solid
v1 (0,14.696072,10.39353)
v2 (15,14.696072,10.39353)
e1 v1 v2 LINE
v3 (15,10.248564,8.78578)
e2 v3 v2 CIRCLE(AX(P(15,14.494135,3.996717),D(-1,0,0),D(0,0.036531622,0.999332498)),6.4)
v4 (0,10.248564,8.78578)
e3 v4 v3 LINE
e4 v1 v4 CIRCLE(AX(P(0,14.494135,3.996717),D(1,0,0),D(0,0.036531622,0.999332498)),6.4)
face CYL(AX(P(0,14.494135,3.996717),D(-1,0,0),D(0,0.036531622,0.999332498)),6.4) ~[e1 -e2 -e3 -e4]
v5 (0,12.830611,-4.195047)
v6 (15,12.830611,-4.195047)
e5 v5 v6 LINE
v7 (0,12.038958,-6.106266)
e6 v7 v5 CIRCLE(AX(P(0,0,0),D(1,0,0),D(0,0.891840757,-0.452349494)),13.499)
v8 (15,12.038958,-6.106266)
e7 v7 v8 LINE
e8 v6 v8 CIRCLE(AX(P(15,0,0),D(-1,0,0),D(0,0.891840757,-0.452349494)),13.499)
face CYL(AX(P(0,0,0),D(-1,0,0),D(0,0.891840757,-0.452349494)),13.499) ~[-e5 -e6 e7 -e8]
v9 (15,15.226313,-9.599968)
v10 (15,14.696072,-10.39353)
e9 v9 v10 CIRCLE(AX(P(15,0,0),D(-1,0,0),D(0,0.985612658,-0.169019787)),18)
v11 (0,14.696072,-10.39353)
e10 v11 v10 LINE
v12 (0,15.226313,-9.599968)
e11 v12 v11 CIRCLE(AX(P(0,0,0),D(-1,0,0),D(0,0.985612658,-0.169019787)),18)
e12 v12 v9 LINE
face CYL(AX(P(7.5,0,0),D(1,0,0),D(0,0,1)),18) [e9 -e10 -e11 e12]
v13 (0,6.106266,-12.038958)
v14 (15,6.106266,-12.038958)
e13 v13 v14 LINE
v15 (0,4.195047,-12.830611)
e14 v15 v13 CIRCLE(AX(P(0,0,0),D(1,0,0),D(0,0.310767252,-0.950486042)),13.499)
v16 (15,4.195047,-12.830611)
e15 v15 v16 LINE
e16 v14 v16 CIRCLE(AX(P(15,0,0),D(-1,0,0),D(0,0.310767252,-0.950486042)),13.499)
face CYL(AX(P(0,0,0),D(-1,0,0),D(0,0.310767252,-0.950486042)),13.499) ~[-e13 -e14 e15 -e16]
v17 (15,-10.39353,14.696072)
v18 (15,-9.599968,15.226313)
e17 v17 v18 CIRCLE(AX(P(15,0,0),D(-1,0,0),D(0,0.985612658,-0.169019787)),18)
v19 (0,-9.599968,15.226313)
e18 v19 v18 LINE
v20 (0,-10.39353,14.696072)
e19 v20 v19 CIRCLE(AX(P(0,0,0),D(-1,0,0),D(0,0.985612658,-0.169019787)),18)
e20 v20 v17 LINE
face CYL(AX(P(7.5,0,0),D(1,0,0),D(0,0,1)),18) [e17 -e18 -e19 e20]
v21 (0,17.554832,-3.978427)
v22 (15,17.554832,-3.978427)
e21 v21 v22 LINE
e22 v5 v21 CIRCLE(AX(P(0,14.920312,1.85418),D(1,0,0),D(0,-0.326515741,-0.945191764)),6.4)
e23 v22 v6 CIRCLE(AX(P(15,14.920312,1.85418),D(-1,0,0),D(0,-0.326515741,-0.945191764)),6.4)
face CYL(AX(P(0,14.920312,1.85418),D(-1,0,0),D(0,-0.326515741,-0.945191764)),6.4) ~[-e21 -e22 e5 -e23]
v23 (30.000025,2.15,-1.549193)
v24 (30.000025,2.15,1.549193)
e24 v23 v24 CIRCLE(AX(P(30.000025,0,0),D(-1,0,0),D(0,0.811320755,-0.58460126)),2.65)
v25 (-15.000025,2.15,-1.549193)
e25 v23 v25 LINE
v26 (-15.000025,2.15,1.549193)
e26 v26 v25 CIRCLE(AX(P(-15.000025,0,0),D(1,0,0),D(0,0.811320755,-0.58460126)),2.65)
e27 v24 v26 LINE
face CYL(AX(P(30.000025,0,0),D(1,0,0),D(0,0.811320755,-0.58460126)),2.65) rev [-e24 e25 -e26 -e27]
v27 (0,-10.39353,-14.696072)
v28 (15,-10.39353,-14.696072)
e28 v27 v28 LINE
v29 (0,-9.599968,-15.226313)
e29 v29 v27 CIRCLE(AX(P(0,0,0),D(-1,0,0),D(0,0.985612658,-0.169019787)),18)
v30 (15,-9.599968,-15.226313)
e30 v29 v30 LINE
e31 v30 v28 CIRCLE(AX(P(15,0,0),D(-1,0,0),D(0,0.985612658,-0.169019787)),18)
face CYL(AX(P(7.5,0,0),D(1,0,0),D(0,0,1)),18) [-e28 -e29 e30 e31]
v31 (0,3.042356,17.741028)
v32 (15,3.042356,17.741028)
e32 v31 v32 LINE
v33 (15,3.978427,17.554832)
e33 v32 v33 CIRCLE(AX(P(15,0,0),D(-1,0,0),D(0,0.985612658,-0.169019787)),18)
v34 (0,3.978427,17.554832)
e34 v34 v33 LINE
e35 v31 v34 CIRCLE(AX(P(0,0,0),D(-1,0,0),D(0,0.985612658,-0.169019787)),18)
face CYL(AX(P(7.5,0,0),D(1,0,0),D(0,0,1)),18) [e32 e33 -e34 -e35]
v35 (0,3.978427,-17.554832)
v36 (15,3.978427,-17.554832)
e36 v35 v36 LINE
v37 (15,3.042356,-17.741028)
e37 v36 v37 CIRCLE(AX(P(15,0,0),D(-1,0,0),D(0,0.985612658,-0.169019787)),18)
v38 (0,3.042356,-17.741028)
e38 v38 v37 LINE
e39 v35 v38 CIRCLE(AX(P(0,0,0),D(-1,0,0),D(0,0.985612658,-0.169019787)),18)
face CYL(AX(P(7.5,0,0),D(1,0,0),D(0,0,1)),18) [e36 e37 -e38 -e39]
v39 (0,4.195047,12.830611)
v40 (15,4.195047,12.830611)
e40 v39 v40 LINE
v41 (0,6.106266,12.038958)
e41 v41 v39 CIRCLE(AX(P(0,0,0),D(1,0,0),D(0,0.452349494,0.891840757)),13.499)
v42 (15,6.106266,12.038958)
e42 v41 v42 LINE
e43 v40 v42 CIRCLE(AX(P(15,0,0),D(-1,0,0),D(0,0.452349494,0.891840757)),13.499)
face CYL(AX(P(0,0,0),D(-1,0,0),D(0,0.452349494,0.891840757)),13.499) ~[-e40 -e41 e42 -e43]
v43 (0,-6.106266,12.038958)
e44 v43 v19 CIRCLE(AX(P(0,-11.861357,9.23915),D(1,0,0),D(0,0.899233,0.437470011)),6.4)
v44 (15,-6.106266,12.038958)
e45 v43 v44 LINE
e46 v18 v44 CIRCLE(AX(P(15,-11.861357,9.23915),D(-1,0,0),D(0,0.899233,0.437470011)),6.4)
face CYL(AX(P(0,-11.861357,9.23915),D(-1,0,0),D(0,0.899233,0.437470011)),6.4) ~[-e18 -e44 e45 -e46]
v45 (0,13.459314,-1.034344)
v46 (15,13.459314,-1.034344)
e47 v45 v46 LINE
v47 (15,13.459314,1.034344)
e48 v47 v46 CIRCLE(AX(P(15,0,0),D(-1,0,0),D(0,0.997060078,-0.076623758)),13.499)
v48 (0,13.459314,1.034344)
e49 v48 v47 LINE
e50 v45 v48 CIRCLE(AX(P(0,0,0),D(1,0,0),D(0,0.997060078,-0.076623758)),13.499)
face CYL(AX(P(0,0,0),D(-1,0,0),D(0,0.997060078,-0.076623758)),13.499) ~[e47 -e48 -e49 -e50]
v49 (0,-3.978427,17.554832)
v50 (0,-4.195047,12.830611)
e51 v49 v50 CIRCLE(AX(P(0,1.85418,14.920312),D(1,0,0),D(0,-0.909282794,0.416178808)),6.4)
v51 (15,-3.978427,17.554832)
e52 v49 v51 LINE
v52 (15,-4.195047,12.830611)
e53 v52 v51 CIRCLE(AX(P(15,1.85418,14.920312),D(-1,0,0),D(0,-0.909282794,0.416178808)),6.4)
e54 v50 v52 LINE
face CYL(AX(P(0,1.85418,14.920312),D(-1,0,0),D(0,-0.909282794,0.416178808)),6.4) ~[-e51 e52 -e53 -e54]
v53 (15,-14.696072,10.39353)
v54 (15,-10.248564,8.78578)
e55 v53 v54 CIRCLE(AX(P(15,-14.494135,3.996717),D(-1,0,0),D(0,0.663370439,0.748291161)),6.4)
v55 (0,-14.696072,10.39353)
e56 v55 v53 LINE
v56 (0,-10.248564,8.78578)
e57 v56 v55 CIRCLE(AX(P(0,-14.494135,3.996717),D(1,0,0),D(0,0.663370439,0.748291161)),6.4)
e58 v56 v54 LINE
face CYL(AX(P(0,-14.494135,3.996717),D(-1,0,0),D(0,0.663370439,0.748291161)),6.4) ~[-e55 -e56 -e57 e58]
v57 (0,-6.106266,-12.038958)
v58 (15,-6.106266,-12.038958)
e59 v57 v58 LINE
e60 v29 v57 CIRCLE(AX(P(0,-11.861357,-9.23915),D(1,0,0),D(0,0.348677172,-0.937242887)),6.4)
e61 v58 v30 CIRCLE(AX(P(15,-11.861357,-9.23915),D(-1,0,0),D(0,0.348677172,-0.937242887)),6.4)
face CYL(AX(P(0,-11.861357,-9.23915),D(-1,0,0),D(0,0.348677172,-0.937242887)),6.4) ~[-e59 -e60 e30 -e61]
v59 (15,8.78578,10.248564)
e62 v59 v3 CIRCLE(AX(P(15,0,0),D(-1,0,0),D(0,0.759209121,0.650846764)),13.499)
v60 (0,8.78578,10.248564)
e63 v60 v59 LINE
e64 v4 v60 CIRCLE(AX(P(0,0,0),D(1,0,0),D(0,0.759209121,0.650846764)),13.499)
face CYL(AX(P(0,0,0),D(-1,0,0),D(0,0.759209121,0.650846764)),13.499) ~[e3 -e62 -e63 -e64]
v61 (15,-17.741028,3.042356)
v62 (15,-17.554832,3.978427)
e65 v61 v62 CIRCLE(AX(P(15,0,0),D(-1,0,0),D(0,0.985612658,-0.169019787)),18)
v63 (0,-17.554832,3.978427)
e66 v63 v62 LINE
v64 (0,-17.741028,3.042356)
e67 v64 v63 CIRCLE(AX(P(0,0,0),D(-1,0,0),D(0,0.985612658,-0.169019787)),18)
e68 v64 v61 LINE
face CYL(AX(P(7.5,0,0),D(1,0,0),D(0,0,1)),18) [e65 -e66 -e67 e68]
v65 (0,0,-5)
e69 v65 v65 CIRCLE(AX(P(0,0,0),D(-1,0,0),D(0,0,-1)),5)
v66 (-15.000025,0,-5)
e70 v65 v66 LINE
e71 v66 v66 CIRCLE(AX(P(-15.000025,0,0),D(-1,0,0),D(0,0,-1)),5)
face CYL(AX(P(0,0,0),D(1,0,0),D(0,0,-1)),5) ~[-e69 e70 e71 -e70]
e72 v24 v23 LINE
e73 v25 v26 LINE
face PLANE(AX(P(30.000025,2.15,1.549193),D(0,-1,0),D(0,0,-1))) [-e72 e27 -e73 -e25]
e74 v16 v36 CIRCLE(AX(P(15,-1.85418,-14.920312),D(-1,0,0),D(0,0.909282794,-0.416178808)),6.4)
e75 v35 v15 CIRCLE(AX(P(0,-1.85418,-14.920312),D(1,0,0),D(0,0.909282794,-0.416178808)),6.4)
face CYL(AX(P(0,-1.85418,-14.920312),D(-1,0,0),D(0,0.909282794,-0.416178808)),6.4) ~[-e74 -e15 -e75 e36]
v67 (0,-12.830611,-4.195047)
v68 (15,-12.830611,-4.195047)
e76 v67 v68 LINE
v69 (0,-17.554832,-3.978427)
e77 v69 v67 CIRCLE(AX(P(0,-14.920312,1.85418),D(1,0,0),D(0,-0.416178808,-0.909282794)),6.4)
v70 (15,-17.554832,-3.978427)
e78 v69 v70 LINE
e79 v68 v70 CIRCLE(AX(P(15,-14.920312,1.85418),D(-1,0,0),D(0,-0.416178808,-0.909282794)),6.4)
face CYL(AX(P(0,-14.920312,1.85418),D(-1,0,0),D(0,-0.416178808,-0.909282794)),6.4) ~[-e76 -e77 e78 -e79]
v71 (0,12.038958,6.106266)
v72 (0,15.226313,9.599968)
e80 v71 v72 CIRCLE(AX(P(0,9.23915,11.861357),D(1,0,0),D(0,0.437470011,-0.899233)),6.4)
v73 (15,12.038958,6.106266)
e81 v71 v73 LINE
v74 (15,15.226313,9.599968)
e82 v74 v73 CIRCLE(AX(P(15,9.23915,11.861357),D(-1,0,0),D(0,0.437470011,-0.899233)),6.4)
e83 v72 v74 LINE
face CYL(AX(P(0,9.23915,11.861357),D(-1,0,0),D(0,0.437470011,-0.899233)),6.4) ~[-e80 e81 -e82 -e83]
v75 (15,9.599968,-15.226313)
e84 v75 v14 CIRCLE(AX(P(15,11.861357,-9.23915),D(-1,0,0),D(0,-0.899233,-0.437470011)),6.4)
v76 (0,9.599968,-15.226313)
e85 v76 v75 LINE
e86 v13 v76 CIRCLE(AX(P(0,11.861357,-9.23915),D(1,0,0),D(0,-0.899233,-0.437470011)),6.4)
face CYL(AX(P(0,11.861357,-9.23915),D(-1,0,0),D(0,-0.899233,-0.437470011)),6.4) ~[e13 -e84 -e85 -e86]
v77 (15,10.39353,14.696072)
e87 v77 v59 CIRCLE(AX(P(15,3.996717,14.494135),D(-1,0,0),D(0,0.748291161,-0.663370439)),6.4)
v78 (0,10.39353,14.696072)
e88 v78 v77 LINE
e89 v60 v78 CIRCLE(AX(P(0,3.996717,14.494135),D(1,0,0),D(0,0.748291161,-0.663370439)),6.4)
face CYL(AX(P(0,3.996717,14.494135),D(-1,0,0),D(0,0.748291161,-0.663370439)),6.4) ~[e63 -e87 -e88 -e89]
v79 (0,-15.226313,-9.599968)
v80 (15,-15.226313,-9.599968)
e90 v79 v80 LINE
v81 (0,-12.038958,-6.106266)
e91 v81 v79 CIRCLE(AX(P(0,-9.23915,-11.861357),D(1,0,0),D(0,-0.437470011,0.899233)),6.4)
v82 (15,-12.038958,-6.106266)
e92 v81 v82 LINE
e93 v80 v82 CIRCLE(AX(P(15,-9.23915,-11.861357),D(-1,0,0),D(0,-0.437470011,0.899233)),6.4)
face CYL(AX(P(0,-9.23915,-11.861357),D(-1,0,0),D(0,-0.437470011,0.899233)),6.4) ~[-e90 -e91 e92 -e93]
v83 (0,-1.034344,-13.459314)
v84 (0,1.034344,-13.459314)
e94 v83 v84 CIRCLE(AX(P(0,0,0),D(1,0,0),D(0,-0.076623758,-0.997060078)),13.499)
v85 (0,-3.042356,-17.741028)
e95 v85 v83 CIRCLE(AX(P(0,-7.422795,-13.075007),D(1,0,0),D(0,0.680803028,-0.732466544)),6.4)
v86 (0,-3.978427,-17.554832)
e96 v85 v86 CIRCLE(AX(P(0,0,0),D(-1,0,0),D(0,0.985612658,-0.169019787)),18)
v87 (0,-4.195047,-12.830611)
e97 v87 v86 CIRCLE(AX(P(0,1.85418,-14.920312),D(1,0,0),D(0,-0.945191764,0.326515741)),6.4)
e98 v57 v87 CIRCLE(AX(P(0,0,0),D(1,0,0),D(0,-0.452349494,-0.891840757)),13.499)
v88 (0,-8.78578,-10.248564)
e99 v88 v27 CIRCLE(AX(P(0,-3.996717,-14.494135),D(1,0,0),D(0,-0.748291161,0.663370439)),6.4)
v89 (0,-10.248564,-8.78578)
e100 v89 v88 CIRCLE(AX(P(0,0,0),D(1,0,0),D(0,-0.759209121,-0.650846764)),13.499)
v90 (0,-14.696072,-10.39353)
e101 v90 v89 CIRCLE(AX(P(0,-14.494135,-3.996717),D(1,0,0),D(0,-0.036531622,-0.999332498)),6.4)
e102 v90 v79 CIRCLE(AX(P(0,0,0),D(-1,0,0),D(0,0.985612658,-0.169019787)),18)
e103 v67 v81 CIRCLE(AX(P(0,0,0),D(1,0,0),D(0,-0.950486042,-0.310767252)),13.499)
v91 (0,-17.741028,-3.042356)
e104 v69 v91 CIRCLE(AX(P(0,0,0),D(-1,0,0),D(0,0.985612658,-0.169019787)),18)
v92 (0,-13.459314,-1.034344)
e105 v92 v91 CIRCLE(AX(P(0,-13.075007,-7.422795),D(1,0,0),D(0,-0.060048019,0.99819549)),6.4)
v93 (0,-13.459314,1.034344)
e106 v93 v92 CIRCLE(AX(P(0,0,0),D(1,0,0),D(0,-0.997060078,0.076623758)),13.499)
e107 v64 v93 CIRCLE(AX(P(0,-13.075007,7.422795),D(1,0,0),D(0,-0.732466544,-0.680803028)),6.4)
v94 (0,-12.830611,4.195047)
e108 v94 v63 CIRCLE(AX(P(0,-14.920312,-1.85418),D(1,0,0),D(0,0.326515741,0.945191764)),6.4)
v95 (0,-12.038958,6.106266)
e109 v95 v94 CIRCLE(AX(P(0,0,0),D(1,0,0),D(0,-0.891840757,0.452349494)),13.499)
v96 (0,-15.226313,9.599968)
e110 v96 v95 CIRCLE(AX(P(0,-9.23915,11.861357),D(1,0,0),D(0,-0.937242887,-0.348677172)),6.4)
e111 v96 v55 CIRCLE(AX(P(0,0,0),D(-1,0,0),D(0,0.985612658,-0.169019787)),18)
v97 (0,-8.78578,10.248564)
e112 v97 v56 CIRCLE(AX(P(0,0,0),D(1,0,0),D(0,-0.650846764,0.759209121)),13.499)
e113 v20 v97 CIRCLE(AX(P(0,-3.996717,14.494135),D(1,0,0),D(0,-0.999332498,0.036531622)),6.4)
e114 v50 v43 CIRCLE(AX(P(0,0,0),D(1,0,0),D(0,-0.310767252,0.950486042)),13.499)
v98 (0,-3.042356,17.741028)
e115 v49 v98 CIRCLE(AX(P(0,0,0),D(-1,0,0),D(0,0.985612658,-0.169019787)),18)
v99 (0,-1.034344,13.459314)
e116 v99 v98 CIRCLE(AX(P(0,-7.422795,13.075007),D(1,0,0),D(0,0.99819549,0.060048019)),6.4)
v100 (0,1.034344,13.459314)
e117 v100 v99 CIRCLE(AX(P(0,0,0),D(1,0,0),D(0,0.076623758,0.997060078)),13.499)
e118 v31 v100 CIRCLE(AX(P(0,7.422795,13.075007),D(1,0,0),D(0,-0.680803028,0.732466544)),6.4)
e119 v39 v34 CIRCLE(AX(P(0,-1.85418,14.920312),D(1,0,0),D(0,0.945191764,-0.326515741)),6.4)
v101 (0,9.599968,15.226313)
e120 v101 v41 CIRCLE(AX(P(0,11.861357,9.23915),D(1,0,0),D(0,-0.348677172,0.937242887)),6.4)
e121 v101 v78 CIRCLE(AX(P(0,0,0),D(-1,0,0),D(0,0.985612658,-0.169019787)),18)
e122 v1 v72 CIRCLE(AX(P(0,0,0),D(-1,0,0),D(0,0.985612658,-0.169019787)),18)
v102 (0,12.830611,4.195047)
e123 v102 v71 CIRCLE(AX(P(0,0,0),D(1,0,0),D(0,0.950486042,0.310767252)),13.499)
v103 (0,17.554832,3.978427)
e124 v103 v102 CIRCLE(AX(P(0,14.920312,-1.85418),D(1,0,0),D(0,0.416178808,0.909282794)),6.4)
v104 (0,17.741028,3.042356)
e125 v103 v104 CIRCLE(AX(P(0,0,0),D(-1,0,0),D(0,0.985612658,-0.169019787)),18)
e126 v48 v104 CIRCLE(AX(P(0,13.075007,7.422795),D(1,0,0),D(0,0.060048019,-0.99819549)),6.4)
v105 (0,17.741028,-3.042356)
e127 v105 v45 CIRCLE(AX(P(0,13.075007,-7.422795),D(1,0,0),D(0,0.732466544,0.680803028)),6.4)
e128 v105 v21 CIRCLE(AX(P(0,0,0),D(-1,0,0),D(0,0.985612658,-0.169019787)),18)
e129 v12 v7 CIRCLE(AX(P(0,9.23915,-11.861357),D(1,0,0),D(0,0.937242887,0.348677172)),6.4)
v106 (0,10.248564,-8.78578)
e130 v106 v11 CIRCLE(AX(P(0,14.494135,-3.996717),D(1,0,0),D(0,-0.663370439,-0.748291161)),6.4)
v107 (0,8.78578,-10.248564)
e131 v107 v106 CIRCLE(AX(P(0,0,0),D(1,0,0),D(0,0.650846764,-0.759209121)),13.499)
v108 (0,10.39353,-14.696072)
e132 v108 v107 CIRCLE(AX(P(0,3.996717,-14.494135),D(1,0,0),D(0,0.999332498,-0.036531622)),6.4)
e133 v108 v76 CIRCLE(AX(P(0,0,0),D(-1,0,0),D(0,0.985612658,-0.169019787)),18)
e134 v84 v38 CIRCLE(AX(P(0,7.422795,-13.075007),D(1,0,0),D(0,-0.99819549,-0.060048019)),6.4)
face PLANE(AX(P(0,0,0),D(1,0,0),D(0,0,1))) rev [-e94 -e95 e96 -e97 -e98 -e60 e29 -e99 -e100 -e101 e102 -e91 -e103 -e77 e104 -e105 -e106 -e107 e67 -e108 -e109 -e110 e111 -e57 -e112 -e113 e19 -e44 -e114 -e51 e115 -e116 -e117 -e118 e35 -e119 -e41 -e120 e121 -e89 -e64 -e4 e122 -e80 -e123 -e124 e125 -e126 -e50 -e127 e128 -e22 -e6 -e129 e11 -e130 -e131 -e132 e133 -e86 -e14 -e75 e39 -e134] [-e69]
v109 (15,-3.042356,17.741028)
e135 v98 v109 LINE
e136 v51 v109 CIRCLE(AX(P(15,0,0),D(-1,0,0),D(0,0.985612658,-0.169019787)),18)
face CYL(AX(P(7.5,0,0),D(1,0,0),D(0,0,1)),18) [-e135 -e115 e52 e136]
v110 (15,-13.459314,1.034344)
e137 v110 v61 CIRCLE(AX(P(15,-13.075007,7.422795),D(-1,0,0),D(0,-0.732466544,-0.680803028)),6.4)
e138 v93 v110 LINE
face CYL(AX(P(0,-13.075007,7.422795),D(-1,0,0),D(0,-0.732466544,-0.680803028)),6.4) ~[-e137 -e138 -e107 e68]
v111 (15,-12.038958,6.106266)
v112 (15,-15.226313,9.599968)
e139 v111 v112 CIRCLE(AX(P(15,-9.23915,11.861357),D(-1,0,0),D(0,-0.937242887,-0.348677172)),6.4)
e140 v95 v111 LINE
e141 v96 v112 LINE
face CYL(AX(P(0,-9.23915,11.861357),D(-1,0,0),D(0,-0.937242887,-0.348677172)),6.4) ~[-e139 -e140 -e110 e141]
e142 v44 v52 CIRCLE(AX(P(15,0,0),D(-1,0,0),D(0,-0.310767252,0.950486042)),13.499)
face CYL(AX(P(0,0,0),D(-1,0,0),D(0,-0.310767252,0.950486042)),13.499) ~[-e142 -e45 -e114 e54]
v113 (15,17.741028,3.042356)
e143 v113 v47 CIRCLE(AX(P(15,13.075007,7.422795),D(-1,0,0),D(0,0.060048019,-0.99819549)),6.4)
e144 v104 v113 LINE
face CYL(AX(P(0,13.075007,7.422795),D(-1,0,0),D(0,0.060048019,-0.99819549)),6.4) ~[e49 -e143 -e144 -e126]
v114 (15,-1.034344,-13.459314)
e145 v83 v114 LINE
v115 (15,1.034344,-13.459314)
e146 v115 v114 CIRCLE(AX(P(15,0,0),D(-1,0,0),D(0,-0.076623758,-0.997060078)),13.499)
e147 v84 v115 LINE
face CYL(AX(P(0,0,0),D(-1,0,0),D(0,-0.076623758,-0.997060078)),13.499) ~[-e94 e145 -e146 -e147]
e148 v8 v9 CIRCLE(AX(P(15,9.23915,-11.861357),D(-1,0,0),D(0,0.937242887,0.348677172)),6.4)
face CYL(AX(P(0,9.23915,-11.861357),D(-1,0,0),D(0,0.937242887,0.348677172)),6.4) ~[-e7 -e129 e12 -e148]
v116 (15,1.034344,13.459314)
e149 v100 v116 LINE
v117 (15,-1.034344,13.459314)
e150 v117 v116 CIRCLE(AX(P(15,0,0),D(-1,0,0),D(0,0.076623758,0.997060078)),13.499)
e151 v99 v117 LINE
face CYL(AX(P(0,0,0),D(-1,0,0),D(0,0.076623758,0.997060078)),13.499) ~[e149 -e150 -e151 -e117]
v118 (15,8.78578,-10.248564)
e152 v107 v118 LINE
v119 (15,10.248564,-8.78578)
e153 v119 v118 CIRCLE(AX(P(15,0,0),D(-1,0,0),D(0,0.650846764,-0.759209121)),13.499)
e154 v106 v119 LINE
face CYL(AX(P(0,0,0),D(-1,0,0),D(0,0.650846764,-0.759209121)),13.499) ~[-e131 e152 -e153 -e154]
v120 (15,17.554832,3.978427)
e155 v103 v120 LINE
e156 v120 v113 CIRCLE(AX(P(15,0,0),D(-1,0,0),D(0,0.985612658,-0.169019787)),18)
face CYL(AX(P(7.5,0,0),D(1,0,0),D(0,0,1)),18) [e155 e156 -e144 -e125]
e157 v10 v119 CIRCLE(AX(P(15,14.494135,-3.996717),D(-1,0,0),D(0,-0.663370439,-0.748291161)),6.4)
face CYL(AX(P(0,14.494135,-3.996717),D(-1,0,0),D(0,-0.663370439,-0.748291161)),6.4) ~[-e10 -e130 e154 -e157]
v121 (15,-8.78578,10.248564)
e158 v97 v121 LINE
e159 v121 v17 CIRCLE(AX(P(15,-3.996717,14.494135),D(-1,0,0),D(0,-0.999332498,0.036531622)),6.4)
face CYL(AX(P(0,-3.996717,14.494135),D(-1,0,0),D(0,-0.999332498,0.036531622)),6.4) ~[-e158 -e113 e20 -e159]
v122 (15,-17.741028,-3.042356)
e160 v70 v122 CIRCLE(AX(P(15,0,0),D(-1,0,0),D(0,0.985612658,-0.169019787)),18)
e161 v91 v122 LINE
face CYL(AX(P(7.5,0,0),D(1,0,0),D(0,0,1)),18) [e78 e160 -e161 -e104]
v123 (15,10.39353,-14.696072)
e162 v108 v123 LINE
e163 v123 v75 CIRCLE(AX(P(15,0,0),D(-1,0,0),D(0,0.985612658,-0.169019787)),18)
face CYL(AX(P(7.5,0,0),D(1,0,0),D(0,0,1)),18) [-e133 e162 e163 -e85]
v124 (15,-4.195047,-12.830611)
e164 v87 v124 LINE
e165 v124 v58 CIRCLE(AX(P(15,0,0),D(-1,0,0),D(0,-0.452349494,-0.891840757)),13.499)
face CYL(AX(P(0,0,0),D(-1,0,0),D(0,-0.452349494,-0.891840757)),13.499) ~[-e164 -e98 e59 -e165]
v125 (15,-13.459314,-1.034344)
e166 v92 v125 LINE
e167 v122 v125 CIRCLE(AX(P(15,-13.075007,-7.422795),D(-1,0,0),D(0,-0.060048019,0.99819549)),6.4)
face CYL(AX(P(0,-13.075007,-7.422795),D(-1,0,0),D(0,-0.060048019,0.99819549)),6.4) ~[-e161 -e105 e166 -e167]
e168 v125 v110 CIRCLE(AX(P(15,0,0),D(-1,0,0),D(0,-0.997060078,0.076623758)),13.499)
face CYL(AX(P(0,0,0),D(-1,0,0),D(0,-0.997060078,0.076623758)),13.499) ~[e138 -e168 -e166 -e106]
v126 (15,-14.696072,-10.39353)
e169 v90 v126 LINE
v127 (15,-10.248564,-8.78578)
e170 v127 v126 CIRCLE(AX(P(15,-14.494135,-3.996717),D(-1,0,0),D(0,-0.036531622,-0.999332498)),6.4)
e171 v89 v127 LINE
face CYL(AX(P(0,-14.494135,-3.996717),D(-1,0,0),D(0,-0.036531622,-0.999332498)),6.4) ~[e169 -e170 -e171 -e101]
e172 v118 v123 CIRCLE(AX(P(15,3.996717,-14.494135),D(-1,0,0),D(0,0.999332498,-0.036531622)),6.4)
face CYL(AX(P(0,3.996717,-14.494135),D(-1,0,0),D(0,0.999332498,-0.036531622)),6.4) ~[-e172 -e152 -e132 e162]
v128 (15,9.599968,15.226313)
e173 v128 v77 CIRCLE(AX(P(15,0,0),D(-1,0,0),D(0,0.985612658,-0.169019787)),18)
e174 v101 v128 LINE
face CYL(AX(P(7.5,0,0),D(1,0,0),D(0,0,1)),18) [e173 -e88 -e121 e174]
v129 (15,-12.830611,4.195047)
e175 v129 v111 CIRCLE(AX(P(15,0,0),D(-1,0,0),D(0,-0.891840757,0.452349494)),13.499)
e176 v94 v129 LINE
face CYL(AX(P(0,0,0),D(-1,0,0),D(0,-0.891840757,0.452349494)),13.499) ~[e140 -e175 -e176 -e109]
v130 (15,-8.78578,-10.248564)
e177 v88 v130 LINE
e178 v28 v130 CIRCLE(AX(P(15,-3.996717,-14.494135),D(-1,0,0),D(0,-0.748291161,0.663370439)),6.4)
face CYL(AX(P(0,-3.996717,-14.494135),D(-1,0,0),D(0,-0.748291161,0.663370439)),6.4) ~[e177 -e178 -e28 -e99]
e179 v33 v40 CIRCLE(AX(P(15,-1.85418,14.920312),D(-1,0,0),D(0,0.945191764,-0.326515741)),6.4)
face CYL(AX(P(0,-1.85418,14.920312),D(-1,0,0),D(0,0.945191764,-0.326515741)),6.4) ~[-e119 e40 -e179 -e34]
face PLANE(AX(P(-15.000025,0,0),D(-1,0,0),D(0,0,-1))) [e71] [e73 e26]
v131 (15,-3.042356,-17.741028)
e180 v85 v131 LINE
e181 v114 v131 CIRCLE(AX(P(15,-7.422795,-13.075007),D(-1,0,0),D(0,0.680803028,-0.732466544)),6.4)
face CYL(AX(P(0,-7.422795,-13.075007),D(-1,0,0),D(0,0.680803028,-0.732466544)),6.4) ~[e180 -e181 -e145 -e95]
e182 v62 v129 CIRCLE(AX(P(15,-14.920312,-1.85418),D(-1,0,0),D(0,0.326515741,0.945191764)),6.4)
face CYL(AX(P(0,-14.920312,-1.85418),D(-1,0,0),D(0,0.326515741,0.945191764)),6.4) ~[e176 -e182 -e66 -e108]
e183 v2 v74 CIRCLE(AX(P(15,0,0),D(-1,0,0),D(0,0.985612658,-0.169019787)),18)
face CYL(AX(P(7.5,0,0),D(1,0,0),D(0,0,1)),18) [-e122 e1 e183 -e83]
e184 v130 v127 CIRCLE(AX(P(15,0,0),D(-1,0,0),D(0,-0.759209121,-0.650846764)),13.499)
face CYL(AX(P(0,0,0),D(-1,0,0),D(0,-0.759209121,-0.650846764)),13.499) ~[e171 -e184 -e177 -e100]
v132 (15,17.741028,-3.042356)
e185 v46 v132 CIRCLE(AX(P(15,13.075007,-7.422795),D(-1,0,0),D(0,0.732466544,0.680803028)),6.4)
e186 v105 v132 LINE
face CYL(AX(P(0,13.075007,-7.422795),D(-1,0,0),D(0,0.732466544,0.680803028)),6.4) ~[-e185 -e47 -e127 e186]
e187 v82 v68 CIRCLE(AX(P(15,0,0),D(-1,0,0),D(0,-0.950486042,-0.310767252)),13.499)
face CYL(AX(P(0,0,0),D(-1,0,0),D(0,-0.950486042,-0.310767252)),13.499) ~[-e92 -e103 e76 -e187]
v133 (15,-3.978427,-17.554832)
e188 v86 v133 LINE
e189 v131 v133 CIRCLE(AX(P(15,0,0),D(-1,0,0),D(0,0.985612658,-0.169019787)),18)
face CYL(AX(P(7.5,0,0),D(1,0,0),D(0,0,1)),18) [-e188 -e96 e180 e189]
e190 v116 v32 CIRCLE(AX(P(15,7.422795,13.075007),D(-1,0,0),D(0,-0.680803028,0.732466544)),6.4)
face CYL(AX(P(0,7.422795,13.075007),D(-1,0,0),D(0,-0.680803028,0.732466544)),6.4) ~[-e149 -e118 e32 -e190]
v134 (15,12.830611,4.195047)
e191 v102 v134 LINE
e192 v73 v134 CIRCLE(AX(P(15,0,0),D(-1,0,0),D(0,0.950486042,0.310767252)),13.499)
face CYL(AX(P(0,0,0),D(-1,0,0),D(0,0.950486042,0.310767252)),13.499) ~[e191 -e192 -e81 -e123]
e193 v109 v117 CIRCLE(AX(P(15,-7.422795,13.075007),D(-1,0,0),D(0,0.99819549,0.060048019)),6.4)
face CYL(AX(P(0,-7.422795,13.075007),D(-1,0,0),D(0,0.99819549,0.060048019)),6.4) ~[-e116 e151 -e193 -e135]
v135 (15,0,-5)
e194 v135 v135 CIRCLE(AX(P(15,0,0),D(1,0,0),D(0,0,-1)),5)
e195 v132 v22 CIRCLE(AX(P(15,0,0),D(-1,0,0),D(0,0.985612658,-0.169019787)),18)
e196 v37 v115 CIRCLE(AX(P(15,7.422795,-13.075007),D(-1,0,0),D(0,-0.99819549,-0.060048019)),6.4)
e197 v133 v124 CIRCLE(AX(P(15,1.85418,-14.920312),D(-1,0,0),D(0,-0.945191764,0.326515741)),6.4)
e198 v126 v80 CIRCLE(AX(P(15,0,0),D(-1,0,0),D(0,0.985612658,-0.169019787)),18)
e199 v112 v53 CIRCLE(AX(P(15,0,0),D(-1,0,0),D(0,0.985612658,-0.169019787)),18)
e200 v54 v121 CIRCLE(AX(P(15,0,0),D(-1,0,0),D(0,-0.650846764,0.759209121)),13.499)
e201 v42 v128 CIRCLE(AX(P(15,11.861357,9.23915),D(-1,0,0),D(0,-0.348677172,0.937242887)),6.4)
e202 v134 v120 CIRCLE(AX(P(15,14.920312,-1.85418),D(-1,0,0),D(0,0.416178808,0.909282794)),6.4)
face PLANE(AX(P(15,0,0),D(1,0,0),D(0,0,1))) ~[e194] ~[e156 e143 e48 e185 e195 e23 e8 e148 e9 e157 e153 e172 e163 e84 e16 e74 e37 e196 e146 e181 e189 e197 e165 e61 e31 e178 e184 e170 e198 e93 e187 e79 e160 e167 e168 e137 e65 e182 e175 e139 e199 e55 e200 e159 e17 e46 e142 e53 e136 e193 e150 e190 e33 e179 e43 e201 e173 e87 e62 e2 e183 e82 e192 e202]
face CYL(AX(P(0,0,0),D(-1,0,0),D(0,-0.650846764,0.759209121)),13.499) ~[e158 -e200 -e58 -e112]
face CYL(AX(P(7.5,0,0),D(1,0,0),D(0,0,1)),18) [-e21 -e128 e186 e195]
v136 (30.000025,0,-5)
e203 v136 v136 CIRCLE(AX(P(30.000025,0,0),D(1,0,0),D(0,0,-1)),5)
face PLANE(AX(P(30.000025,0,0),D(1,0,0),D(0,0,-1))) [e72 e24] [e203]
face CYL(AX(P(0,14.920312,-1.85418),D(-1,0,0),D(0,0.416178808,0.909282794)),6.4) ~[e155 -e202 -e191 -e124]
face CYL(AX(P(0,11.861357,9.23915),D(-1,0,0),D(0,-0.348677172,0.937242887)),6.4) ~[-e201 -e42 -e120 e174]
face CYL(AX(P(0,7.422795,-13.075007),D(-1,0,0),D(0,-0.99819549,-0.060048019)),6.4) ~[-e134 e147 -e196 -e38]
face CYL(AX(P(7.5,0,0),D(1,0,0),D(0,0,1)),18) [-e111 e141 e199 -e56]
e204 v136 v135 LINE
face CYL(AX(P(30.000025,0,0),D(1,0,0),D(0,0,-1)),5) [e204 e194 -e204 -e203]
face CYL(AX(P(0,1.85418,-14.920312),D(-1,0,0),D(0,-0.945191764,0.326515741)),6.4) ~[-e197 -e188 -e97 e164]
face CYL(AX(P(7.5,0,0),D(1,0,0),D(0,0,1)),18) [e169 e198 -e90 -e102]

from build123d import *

# Parameters (mm, degrees)
BASPROSKE_W         = 15
BASPROSKE_H         = 18
TOOTHCUT_DEPTH      = 30.546573405
TEETHCUTS_COUNT     = 16
TEETHCUTS_ANGLE     = 337.5
HUBNEABOTSKE_R      = 5
HUBNEARBOTH_DEPTH   = 15.0000254
HUBFAR_START        = 15.0000254
HUBFARSKE_R         = 5
HUBFAR_DEPTH        = 15.0000254
BORSKE_R            = 2.5
BORE_DEPTH          = 45.0000508
BOSS_EXTRUDE1_DEPTH = 45.0000508
CUT_EXTRUDE1_DEPTH  = 52.521769281


with BuildPart() as part:
    # BasProSke → Base-Revolve (revolve)
    with BuildSketch(Plane(origin=(0, 0, 0), x_dir=(1, 0, 0), z_dir=(0, 1, 0)), mode=Mode.PRIVATE) as base_revolve_sk:
        with Locations((7.5, 9)):
            Rectangle(BASPROSKE_W, BASPROSKE_H)
    revolve(base_revolve_sk.sketch.rotate(Axis((-10, 0, 0), (1, 0, 0)), 180), axis=Axis((-10, 0, 0), (1, 0, 0)))

    # TooCutSke → ToothCut (cut, through all)
    with BuildSketch(Plane(origin=(0, 0, 0), x_dir=(0, 0, -1), z_dir=(1, 0, 0))):
        with BuildLine():
            ThreePointArc((1.03434411, 13.459313997), (0, 13.499), (-1.03434411, 13.459313997))
            ThreePointArc((-1.03434411, 13.459313997), (-1.635143665, 15.806872195), (-3.065655864, 17.762792553))
            ThreePointArc((-3.065655864, 17.762792553), (0, 18.0254), (3.065655864, 17.762792553))
            ThreePointArc((3.065655864, 17.762792553), (1.635143665, 15.806872195), (1.03434411, 13.459313997))
        make_face()
    toothcut = extrude(amount=TOOTHCUT_DEPTH, mode=Mode.SUBTRACT)

    # TeethCuts: ToothCut ×16 about axis
    teethcuts_axis = Axis((-10, 0, 0), (1, 0, 0))
    for i in range(1, TEETHCUTS_COUNT):
        add(toothcut.rotate(teethcuts_axis, i * TEETHCUTS_ANGLE / (TEETHCUTS_COUNT - 1)), mode=Mode.SUBTRACT)

    # HubNeaBotSke → HubNearBoth (add)
    with BuildSketch(Plane.ZY):
        with Locations(Location((0, 0, 0), (0, 0, 180))):
            Circle(HUBNEABOTSKE_R)
    extrude(amount=HUBNEARBOTH_DEPTH)

    # HubFarSke → HubFar (add)
    with BuildSketch(Plane(origin=(15, 0, 0), x_dir=(0, 0, -1), z_dir=(1, 0, 0)).offset(HUBFAR_START)):
        Circle(HUBFARSKE_R)
    extrude(amount=-HUBFAR_DEPTH)

    # BorSke → Bore (cut, symmetric)
    with BuildSketch(Plane(origin=(0, 0, 0), x_dir=(0, 0, -1), z_dir=(1, 0, 0))):
        with Locations(Location((0, 0, 0), (0, 0, 180))):
            Circle(BORSKE_R)
    extrude(amount=BORE_DEPTH, both=True, mode=Mode.SUBTRACT)

    # Sketch1 → Boss-Extrude1 (add)
    with BuildSketch(Plane(origin=(30.0000254, 0, 0), x_dir=(0, 0, -1), z_dir=(1, 0, 0))):
        with BuildLine():
            Line((-1.5, 2), (1.5, 2))
            ThreePointArc((1.5, 2), (0, 2.5), (-1.5, 2))
        make_face()
    extrude(amount=-BOSS_EXTRUDE1_DEPTH)

    # Sketch2 → Cut-Extrude1 (cut, through all)
    with BuildSketch(Plane(origin=(30.0000254, 0, 0), x_dir=(0, 0, -1), z_dir=(1, 0, 0))):
        with BuildLine():
            Line((-1.549193338, 2.15), (1.549193338, 2.15))
            ThreePointArc((1.549193338, 2.15), (0, -2.65), (-1.549193338, 2.15))
        make_face()
        with BuildLine():
            Line((-1.5, 2), (1.5, 2))
            ThreePointArc((1.5, 2), (0, -2.5), (-1.5, 2))
        make_face(mode=Mode.SUBTRACT)
    extrude(amount=-CUT_EXTRUDE1_DEPTH, mode=Mode.SUBTRACT)


solid = part.part
